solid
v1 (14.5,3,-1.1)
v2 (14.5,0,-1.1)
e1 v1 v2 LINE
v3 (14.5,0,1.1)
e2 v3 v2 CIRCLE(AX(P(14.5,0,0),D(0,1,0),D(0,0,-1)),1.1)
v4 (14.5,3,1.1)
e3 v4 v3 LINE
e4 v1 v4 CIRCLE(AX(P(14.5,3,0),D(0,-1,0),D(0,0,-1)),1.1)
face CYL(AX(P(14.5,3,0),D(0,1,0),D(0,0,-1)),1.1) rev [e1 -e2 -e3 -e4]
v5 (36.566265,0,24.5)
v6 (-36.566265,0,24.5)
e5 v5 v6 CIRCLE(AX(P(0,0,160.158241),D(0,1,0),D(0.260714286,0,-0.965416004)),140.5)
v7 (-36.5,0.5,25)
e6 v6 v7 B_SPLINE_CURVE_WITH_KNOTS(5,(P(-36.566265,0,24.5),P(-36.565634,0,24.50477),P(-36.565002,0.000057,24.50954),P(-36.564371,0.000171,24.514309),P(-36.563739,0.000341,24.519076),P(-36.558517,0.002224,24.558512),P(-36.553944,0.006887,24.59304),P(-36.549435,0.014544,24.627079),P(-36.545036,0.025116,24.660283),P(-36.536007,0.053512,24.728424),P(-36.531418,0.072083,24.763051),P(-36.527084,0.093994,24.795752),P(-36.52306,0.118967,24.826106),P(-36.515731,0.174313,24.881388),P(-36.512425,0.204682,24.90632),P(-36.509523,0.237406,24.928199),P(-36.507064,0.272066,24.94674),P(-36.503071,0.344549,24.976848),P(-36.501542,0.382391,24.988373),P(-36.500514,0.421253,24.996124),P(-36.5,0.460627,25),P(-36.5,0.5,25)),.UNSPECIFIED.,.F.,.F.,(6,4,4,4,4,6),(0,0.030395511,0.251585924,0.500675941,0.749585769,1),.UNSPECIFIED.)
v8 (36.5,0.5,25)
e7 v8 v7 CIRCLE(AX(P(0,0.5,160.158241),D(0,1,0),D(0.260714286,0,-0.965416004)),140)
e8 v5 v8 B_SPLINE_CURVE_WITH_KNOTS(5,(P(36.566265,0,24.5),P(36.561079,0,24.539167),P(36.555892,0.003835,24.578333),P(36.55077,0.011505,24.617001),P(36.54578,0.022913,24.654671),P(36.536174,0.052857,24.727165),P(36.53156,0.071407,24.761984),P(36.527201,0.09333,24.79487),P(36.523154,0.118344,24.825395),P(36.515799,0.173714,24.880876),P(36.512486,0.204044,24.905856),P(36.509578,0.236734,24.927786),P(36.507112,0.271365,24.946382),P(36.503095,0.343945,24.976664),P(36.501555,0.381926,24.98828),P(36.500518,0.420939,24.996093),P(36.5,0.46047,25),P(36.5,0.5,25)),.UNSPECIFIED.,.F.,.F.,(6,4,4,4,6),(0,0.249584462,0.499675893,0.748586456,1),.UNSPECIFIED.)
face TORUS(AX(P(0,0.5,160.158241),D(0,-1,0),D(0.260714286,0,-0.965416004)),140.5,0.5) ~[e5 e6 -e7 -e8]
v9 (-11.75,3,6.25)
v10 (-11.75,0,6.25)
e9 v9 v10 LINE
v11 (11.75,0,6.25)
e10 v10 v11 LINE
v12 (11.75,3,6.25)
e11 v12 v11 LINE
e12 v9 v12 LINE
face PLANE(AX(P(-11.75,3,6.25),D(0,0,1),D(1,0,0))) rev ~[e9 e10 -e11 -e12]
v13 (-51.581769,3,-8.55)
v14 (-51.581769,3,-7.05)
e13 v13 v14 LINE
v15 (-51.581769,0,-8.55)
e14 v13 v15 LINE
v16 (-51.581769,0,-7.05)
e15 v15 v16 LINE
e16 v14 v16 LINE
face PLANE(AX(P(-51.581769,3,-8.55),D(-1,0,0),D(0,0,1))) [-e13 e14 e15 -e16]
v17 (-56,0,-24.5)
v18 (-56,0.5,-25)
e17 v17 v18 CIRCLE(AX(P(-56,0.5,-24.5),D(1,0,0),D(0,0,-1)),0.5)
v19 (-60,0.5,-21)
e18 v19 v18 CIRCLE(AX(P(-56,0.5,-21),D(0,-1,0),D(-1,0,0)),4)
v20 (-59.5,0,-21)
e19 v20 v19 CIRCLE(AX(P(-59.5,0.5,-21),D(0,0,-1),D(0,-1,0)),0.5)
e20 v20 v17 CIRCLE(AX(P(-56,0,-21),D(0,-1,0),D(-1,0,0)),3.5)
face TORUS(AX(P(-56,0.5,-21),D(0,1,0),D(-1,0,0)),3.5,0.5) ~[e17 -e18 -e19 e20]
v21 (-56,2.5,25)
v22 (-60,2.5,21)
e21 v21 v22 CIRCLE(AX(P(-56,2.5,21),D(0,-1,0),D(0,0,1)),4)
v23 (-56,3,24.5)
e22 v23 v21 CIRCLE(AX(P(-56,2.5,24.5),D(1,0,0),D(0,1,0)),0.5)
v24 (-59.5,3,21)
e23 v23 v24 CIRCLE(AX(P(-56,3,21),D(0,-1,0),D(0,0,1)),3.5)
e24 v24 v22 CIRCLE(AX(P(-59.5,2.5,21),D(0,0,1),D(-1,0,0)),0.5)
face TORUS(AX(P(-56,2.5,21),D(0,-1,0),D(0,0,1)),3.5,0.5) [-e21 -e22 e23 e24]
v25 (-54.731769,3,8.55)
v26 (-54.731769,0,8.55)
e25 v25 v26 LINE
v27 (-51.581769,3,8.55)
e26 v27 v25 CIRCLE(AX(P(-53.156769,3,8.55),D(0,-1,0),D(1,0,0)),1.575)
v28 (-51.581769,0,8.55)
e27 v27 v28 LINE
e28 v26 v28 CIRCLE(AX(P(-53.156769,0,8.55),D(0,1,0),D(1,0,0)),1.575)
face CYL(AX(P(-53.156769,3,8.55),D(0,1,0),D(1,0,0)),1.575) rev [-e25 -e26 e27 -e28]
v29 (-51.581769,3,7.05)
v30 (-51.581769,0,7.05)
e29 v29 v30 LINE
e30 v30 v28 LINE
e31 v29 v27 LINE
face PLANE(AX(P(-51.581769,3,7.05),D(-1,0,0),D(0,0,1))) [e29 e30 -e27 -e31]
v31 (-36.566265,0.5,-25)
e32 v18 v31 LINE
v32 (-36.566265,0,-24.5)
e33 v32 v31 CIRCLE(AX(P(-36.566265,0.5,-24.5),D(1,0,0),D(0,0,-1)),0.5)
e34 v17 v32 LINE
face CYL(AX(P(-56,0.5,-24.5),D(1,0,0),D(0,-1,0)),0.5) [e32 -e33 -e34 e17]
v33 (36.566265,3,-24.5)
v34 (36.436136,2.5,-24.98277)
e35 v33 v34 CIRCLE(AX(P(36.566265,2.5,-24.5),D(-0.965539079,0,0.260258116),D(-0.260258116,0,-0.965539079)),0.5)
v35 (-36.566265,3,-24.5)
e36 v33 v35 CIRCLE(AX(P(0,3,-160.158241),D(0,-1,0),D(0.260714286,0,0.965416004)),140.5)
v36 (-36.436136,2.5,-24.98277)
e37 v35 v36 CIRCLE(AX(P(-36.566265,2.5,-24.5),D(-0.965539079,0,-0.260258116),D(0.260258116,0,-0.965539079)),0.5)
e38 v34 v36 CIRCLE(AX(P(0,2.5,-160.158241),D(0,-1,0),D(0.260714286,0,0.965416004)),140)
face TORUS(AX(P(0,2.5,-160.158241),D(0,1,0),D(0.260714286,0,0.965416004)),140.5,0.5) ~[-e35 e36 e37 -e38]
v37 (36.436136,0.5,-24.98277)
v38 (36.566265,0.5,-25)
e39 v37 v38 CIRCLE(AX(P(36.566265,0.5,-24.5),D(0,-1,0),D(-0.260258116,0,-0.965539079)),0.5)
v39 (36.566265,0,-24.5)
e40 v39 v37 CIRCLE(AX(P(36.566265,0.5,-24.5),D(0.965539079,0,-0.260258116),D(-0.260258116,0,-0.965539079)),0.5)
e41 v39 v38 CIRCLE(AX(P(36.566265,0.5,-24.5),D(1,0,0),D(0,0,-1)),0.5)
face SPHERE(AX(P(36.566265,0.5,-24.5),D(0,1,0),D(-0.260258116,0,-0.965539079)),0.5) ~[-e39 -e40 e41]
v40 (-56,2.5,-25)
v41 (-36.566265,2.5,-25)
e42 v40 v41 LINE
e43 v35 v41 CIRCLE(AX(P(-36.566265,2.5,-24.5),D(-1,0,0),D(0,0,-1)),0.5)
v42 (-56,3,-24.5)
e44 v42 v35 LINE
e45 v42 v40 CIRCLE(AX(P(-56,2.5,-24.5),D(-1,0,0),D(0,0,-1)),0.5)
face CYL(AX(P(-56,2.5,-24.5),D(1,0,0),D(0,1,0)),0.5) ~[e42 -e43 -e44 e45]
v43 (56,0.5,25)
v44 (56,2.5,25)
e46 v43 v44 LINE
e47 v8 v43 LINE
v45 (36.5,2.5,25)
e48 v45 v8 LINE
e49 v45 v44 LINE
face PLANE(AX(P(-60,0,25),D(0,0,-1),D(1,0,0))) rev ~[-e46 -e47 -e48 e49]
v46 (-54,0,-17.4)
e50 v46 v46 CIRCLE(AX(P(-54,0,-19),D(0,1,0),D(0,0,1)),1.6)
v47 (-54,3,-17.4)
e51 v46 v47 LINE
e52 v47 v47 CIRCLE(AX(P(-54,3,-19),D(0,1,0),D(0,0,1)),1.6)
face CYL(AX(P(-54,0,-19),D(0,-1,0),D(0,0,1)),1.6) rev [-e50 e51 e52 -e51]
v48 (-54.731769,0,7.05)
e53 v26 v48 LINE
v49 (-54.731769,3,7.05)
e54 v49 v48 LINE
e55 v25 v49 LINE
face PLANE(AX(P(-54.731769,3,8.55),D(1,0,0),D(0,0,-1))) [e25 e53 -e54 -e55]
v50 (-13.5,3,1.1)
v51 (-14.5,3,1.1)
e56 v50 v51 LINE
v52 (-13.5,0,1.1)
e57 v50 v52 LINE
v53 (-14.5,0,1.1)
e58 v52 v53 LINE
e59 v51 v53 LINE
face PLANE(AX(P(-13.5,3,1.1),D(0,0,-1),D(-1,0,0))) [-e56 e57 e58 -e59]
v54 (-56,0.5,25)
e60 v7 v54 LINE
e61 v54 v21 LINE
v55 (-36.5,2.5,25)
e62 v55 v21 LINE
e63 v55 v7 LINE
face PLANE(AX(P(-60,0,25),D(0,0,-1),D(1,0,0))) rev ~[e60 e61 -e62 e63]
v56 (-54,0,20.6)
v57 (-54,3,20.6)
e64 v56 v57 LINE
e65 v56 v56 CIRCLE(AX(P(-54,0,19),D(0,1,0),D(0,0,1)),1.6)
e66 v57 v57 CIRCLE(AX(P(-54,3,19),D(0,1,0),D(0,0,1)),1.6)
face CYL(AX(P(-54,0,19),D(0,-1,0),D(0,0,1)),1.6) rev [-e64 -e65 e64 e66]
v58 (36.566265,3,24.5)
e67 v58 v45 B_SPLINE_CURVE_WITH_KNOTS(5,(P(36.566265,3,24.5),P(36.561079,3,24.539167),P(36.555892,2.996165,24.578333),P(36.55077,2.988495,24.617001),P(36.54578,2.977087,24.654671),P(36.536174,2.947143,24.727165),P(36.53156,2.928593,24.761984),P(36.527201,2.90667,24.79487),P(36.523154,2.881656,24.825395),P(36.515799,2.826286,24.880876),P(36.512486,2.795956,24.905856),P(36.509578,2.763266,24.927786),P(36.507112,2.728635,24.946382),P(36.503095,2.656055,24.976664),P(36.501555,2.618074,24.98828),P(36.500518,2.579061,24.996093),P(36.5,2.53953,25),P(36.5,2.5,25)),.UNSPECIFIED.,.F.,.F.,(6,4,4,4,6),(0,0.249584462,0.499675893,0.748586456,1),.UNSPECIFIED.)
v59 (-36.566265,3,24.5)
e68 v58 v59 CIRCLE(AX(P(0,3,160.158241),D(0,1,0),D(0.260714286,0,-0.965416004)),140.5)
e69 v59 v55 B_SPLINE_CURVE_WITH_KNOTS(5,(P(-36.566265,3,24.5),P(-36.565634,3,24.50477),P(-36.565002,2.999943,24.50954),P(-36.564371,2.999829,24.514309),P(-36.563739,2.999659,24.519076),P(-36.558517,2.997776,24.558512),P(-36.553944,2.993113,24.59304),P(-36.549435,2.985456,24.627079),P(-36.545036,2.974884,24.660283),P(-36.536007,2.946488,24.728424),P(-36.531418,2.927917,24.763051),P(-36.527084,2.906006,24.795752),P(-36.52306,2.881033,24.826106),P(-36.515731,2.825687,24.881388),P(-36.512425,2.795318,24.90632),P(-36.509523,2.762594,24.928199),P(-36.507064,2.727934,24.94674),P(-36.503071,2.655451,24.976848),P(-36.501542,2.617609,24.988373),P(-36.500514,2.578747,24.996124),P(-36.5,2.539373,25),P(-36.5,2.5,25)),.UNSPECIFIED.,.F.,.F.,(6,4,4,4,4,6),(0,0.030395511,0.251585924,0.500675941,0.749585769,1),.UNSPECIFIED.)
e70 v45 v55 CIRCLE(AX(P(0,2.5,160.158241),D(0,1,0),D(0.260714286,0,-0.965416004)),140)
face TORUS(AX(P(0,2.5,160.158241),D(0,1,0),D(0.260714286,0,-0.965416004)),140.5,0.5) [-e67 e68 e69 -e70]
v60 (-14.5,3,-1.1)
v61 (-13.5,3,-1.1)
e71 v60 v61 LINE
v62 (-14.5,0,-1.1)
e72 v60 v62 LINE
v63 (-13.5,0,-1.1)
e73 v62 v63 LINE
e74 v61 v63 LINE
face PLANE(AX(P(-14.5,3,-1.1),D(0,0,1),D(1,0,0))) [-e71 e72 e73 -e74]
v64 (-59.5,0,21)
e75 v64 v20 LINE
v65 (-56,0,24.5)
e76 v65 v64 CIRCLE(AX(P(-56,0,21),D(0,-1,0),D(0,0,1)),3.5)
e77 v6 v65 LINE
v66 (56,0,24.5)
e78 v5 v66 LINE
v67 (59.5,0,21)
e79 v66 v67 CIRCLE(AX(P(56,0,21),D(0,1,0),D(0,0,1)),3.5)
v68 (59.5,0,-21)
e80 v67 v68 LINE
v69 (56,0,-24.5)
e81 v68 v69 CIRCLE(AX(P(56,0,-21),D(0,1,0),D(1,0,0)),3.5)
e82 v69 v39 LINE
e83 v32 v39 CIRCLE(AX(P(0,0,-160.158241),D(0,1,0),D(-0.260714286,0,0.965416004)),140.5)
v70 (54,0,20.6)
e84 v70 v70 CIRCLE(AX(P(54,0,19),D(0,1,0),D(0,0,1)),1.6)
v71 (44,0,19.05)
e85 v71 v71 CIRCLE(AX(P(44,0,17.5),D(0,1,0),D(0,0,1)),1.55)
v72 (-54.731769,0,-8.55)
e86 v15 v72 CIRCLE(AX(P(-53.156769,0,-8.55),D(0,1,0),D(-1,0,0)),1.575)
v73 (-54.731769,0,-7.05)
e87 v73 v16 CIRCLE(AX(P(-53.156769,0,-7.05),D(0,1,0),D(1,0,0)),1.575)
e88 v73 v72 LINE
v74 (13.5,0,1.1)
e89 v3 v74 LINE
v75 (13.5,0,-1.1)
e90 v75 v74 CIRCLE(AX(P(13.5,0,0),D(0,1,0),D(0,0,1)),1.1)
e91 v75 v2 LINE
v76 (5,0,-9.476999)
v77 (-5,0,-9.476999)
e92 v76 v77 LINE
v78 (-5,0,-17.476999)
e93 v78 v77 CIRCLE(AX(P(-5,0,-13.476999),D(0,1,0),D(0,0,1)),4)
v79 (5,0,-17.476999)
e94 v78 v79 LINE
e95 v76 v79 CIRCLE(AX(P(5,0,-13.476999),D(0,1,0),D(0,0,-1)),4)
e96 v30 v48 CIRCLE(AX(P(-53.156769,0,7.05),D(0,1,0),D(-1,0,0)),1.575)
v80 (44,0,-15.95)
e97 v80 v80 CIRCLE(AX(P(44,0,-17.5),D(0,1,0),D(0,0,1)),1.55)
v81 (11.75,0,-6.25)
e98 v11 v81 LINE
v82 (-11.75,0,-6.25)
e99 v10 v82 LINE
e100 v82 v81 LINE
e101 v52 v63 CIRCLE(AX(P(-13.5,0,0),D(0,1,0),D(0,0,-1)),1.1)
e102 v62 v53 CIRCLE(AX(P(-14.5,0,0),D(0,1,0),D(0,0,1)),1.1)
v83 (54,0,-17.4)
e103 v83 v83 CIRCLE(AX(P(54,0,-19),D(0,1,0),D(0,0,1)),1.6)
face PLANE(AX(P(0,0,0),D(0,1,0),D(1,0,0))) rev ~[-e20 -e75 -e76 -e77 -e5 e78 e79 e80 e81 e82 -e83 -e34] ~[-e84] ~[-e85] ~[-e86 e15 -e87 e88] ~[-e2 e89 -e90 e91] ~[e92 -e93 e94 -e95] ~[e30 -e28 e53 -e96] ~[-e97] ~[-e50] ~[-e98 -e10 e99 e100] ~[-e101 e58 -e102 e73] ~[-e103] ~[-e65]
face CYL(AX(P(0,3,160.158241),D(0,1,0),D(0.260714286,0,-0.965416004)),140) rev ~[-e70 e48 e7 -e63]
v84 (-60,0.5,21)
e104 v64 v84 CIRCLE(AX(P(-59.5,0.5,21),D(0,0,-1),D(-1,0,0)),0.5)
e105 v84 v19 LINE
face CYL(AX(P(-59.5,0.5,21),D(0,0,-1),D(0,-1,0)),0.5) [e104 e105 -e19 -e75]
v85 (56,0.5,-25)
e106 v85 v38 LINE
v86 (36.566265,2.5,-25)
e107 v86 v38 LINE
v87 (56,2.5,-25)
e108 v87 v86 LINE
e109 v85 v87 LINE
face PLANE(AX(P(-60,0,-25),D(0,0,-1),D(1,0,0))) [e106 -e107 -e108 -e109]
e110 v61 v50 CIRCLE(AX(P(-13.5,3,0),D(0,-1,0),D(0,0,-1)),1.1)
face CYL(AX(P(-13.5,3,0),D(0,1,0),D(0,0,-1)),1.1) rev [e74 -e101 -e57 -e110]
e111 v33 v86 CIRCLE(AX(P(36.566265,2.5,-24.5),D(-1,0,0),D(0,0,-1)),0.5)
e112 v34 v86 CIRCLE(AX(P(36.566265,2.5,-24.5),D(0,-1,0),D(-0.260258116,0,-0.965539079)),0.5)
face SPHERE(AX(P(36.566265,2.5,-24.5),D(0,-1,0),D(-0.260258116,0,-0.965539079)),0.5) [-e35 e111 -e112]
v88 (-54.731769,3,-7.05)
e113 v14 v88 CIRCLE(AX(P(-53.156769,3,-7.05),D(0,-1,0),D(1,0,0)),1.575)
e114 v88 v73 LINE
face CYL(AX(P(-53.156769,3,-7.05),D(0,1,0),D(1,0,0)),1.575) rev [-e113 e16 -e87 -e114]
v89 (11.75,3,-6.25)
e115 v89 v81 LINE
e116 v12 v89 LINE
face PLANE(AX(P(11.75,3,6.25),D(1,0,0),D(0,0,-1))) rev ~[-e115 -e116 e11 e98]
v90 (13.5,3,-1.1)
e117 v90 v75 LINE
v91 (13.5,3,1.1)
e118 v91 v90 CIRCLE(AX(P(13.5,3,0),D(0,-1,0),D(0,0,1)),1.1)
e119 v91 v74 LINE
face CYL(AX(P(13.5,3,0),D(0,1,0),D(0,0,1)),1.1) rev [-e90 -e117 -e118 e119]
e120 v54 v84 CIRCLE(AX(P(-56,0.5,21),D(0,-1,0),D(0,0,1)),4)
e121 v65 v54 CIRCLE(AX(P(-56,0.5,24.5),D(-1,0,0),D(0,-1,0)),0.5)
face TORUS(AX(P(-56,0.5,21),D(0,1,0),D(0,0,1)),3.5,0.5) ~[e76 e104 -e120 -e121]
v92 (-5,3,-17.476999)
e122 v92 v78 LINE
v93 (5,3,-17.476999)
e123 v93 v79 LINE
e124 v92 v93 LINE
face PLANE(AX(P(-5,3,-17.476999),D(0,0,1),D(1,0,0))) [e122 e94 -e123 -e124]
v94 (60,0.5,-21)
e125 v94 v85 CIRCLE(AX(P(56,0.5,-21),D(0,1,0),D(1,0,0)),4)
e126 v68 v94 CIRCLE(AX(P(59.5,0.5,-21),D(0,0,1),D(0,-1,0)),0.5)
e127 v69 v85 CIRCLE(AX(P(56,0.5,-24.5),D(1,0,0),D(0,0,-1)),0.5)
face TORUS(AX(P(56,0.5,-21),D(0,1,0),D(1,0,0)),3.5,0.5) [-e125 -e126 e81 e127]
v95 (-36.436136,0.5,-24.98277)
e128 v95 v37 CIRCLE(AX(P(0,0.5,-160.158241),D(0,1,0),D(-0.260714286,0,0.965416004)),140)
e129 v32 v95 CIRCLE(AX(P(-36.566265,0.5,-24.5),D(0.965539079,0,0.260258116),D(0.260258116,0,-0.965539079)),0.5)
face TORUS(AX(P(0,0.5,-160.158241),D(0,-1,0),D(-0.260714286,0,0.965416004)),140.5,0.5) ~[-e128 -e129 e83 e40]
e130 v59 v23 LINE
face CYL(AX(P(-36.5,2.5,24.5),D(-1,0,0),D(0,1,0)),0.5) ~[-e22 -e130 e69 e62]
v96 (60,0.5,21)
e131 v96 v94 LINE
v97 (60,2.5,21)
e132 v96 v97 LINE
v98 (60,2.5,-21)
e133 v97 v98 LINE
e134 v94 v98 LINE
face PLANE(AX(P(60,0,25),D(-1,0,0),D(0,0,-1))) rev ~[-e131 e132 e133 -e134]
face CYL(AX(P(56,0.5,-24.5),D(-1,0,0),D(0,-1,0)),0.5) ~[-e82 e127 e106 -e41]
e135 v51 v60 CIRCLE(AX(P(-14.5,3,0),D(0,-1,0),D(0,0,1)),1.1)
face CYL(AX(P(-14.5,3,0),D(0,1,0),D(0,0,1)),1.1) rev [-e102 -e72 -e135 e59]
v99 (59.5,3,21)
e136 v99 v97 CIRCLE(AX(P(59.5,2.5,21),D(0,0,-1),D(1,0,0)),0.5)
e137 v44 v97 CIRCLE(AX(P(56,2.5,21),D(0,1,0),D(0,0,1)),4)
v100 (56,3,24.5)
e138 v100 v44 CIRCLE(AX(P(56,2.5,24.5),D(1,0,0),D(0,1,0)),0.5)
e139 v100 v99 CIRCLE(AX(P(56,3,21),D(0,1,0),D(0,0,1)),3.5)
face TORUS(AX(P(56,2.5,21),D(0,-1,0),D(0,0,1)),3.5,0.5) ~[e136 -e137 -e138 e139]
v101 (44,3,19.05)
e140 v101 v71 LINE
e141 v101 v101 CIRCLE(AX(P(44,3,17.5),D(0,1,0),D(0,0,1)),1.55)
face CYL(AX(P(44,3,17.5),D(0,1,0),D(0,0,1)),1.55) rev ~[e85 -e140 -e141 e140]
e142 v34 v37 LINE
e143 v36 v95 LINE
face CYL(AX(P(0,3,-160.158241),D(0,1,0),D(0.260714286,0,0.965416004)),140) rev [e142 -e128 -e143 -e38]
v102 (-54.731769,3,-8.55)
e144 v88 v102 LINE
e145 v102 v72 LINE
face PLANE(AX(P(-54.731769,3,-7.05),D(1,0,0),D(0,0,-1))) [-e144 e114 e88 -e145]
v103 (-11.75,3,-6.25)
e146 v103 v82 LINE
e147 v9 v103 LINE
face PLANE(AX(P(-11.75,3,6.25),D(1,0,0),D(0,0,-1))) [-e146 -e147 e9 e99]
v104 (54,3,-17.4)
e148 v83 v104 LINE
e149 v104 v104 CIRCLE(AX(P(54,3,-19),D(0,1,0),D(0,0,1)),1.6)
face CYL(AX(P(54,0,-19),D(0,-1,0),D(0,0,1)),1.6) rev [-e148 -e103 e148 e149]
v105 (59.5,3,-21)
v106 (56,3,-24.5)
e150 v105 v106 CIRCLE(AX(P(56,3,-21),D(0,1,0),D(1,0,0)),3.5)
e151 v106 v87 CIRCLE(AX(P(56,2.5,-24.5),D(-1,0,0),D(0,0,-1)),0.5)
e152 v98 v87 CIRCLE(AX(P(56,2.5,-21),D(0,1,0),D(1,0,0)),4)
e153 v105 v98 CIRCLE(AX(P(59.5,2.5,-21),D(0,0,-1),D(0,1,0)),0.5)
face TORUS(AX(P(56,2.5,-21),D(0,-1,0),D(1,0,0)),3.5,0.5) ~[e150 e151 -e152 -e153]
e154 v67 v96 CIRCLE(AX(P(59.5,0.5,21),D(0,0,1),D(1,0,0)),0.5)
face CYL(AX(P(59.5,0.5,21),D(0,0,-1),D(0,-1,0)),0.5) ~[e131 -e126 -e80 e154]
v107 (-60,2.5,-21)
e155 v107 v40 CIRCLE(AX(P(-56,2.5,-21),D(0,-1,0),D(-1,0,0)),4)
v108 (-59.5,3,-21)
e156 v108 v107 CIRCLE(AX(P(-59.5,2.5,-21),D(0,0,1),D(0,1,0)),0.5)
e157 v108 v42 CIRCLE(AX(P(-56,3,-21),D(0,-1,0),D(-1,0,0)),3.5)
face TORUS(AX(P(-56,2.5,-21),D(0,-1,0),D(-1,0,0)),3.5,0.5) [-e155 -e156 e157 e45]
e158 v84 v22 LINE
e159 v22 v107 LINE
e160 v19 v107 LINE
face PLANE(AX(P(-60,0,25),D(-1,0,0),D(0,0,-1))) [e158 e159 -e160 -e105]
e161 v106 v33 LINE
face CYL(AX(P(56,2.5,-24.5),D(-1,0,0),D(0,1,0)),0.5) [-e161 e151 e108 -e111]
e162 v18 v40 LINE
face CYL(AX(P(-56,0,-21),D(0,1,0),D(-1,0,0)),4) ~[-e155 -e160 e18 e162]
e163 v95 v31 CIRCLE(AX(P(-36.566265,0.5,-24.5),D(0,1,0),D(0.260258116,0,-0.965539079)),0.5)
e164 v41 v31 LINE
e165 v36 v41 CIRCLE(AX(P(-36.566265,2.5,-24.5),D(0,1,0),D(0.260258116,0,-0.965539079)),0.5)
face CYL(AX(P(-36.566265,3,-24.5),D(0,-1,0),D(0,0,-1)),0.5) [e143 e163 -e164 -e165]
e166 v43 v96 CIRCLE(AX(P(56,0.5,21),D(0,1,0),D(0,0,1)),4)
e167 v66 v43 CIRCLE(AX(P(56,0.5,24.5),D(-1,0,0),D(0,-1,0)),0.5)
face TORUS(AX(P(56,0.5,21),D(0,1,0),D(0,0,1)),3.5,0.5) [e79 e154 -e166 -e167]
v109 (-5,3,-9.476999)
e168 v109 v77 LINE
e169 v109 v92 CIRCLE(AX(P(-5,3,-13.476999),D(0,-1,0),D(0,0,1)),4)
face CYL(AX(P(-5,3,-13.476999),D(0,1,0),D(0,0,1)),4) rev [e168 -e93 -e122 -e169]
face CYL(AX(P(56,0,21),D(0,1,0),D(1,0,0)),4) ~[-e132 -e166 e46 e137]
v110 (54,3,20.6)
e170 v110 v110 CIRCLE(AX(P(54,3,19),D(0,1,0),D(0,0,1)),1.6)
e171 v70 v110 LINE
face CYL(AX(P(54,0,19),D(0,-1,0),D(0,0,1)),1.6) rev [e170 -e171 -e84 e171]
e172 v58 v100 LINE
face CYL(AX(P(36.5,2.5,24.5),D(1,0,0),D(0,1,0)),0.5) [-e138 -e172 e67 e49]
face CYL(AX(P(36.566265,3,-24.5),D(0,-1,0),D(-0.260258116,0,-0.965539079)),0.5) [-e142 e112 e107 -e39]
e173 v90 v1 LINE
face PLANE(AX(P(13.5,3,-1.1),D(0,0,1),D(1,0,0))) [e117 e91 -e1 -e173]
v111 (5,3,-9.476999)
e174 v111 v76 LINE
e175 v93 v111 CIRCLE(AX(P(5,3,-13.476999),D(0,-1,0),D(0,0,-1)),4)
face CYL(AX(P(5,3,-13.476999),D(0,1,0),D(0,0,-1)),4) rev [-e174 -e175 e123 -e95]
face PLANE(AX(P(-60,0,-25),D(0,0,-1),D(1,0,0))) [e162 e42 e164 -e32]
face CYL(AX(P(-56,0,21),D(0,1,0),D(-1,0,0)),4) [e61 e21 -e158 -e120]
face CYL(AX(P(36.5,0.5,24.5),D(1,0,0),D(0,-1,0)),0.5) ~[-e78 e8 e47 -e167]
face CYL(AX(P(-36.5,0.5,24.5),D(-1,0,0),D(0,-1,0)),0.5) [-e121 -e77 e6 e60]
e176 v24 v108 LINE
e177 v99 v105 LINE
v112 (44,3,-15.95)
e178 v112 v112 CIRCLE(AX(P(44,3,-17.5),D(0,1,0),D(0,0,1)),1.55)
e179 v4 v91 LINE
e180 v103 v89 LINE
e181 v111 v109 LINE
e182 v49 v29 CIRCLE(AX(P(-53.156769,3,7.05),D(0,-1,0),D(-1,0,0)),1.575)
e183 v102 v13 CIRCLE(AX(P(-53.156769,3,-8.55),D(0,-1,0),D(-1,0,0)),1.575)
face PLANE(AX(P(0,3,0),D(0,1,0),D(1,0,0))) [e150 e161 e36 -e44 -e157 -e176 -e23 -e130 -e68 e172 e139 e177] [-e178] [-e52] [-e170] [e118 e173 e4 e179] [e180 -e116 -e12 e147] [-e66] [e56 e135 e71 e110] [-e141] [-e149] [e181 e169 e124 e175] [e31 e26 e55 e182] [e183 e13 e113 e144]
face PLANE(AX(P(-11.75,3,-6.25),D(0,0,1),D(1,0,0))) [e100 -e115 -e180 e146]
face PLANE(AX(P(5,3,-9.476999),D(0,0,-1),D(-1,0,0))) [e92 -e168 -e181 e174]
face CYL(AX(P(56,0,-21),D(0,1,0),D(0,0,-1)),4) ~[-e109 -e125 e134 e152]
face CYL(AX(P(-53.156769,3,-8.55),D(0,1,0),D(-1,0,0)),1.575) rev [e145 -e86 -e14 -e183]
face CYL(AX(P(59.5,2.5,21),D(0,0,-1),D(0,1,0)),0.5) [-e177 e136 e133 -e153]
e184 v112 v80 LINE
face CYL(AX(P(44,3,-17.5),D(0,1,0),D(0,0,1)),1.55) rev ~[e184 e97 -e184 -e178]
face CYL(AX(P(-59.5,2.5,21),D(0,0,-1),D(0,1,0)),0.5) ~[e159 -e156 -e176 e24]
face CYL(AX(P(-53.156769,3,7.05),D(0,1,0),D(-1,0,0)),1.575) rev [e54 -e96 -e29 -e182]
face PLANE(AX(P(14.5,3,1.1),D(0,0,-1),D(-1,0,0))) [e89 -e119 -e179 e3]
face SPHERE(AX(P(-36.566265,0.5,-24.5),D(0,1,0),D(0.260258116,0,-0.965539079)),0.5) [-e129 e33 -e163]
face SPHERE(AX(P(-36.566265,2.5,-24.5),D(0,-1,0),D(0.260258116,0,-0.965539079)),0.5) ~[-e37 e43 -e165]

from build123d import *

# Parameters (mm, degrees)
SKETCH1_W           = 120
SKETCH1_H           = 50
SKETCH1_R           = 1.6
BOSS_EXTRUDE1_DEPTH = 3
SKETCH2_R           = 1.55
SKETCH2_W           = 23.5
SKETCH2_H           = 12.5
CUT_EXTRUDE1_DEPTH  = 10
CUT_EXTRUDE2_DEPTH  = 10
FILLET1_R           = 4
FILLET2_R           = 0.5


with BuildPart() as part:
    # Sketch1 → Boss-Extrude1 (new body)
    with BuildSketch(Plane(origin=(0, 0, 0), x_dir=(1, 0, 0), z_dir=(0, 1, 0))):
        Rectangle(SKETCH1_W, SKETCH1_H)
        with Locations(Location((-54, 19, 0), (0, 0, 270))):
            Circle(SKETCH1_R, mode=Mode.SUBTRACT)
        with Locations(Location((54, 19, 0), (0, 0, 270))):
            Circle(SKETCH1_R, mode=Mode.SUBTRACT)
        with Locations(Location((54, -19, 0), (0, 0, 270))):
            Circle(SKETCH1_R, mode=Mode.SUBTRACT)
        with Locations(Location((-54, -19, 0), (0, 0, 270))):
            Circle(SKETCH1_R, mode=Mode.SUBTRACT)
    extrude(amount=BOSS_EXTRUDE1_DEPTH)

    # Sketch2 → Cut-Extrude1 (cut)
    with BuildSketch(Plane(origin=(0, 3, 0), x_dir=(1, 0, 0), z_dir=(0, 1, 0))):
        with Locations(Location((44, 17.5, 0), (0, 0, 270))):
            Circle(SKETCH2_R)
        with Locations(Location((44, -17.5, 0), (0, 0, 270))):
            Circle(SKETCH2_R)
        with BuildLine():
            Line((-54.73176855, 7.05), (-54.73176855, 8.55))
            ThreePointArc((-54.73176855, 8.55), (-53.15676855, 10.125), (-51.58176855, 8.55))
            Line((-51.58176855, 8.55), (-51.58176855, 7.05))
            ThreePointArc((-51.58176855, 7.05), (-53.15676855, 5.475), (-54.73176855, 7.05))
        make_face()
        with BuildLine():
            Line((-51.58176855, -7.05), (-51.58176855, -8.55))
            ThreePointArc((-51.58176855, -8.55), (-53.15676855, -10.125), (-54.73176855, -8.55))
            Line((-54.73176855, -8.55), (-54.73176855, -7.05))
            ThreePointArc((-54.73176855, -7.05), (-53.15676855, -5.475), (-51.58176855, -7.05))
        make_face()
        Rectangle(SKETCH2_W, SKETCH2_H)
        with BuildLine():
            Line((-5, 17.476998697), (5, 17.476998697))
            ThreePointArc((5, 17.476998697), (9, 13.476998697), (5, 9.476998697))
            Line((5, 9.476998697), (-5, 9.476998697))
            ThreePointArc((-5, 9.476998697), (-9, 13.476998697), (-5, 17.476998697))
        make_face()
        with BuildLine():
            Line((-14.5, 1.1), (-13.5, 1.1))
            ThreePointArc((-13.5, 1.1), (-12.4, 0), (-13.5, -1.1))
            Line((-13.5, -1.1), (-14.5, -1.1))
            ThreePointArc((-14.5, -1.1), (-15.6, 0), (-14.5, 1.1))
        make_face()
        with BuildLine():
            Line((13.5, 1.1), (14.5, 1.1))
            ThreePointArc((14.5, 1.1), (15.6, 0), (14.5, -1.1))
            Line((14.5, -1.1), (13.5, -1.1))
            ThreePointArc((13.5, -1.1), (12.4, 0), (13.5, 1.1))
        make_face()
    extrude(amount=-CUT_EXTRUDE1_DEPTH, mode=Mode.SUBTRACT)

    # Sketch4 → Cut-Extrude2 (cut)
    with BuildSketch(Plane(origin=(0, 3, 0), x_dir=(1, 0, 0), z_dir=(0, 1, 0))):
        with BuildLine():
            Line((-36.5, -25), (36.5, -25))
            ThreePointArc((36.5, -25), (0, -20.158240592), (-36.5, -25))
        make_face()
        with BuildLine():
            Line((-36.5, 25), (36.5, 25))
            ThreePointArc((36.5, 25), (0, 20.158240592), (-36.5, 25))
        make_face()
    extrude(amount=-CUT_EXTRUDE2_DEPTH, mode=Mode.SUBTRACT)

    # Fillet1
    fillet1_edges = [part.edges().sort_by_distance(p)[0] for p in [
        (60, 1.5, 25),
        (-60, 1.5, 25),
        (-60, 1.5, -25),
        (60, 1.5, -25),
    ]]
    fillet(fillet1_edges, radius=FILLET1_R)

    # Fillet2
    fillet2_edges = [part.edges().sort_by_distance(p)[0] for p in [
        (46.25, 0, 25),
        (46.25, 3, 25),
        (-46.25, 0, -25),
        (-46.25, 3, -25),
        (-36.5, 1.5, -25),
        (36.5, 1.5, -25),
        (0, 0, 20.158240592),
        (0, 3, 20.158240592),
        (0, 0, -20.158240592),
        (0, 3, -20.158240592),
        (-46.25, 0, 25),
        (-46.25, 3, 25),
        (-60, 0, 0),
        (46.25, 0, -25),
        (60, 0, 0),
        (58.828427125, 0, -23.828427125),
        (-58.828427125, 0, -23.828427125),
        (58.828427125, 0, 23.828427125),
        (-58.828427125, 0, 23.828427125),
        (-60, 3, 0),
        (60, 3, 0),
        (46.25, 3, -25),
        (58.828427125, 3, -23.828427125),
        (-58.828427125, 3, -23.828427125),
        (58.828427125, 3, 23.828427125),
        (-58.828427125, 3, 23.828427125),
    ]]
    fillet(fillet2_edges, radius=FILLET2_R)


solid = part.part
